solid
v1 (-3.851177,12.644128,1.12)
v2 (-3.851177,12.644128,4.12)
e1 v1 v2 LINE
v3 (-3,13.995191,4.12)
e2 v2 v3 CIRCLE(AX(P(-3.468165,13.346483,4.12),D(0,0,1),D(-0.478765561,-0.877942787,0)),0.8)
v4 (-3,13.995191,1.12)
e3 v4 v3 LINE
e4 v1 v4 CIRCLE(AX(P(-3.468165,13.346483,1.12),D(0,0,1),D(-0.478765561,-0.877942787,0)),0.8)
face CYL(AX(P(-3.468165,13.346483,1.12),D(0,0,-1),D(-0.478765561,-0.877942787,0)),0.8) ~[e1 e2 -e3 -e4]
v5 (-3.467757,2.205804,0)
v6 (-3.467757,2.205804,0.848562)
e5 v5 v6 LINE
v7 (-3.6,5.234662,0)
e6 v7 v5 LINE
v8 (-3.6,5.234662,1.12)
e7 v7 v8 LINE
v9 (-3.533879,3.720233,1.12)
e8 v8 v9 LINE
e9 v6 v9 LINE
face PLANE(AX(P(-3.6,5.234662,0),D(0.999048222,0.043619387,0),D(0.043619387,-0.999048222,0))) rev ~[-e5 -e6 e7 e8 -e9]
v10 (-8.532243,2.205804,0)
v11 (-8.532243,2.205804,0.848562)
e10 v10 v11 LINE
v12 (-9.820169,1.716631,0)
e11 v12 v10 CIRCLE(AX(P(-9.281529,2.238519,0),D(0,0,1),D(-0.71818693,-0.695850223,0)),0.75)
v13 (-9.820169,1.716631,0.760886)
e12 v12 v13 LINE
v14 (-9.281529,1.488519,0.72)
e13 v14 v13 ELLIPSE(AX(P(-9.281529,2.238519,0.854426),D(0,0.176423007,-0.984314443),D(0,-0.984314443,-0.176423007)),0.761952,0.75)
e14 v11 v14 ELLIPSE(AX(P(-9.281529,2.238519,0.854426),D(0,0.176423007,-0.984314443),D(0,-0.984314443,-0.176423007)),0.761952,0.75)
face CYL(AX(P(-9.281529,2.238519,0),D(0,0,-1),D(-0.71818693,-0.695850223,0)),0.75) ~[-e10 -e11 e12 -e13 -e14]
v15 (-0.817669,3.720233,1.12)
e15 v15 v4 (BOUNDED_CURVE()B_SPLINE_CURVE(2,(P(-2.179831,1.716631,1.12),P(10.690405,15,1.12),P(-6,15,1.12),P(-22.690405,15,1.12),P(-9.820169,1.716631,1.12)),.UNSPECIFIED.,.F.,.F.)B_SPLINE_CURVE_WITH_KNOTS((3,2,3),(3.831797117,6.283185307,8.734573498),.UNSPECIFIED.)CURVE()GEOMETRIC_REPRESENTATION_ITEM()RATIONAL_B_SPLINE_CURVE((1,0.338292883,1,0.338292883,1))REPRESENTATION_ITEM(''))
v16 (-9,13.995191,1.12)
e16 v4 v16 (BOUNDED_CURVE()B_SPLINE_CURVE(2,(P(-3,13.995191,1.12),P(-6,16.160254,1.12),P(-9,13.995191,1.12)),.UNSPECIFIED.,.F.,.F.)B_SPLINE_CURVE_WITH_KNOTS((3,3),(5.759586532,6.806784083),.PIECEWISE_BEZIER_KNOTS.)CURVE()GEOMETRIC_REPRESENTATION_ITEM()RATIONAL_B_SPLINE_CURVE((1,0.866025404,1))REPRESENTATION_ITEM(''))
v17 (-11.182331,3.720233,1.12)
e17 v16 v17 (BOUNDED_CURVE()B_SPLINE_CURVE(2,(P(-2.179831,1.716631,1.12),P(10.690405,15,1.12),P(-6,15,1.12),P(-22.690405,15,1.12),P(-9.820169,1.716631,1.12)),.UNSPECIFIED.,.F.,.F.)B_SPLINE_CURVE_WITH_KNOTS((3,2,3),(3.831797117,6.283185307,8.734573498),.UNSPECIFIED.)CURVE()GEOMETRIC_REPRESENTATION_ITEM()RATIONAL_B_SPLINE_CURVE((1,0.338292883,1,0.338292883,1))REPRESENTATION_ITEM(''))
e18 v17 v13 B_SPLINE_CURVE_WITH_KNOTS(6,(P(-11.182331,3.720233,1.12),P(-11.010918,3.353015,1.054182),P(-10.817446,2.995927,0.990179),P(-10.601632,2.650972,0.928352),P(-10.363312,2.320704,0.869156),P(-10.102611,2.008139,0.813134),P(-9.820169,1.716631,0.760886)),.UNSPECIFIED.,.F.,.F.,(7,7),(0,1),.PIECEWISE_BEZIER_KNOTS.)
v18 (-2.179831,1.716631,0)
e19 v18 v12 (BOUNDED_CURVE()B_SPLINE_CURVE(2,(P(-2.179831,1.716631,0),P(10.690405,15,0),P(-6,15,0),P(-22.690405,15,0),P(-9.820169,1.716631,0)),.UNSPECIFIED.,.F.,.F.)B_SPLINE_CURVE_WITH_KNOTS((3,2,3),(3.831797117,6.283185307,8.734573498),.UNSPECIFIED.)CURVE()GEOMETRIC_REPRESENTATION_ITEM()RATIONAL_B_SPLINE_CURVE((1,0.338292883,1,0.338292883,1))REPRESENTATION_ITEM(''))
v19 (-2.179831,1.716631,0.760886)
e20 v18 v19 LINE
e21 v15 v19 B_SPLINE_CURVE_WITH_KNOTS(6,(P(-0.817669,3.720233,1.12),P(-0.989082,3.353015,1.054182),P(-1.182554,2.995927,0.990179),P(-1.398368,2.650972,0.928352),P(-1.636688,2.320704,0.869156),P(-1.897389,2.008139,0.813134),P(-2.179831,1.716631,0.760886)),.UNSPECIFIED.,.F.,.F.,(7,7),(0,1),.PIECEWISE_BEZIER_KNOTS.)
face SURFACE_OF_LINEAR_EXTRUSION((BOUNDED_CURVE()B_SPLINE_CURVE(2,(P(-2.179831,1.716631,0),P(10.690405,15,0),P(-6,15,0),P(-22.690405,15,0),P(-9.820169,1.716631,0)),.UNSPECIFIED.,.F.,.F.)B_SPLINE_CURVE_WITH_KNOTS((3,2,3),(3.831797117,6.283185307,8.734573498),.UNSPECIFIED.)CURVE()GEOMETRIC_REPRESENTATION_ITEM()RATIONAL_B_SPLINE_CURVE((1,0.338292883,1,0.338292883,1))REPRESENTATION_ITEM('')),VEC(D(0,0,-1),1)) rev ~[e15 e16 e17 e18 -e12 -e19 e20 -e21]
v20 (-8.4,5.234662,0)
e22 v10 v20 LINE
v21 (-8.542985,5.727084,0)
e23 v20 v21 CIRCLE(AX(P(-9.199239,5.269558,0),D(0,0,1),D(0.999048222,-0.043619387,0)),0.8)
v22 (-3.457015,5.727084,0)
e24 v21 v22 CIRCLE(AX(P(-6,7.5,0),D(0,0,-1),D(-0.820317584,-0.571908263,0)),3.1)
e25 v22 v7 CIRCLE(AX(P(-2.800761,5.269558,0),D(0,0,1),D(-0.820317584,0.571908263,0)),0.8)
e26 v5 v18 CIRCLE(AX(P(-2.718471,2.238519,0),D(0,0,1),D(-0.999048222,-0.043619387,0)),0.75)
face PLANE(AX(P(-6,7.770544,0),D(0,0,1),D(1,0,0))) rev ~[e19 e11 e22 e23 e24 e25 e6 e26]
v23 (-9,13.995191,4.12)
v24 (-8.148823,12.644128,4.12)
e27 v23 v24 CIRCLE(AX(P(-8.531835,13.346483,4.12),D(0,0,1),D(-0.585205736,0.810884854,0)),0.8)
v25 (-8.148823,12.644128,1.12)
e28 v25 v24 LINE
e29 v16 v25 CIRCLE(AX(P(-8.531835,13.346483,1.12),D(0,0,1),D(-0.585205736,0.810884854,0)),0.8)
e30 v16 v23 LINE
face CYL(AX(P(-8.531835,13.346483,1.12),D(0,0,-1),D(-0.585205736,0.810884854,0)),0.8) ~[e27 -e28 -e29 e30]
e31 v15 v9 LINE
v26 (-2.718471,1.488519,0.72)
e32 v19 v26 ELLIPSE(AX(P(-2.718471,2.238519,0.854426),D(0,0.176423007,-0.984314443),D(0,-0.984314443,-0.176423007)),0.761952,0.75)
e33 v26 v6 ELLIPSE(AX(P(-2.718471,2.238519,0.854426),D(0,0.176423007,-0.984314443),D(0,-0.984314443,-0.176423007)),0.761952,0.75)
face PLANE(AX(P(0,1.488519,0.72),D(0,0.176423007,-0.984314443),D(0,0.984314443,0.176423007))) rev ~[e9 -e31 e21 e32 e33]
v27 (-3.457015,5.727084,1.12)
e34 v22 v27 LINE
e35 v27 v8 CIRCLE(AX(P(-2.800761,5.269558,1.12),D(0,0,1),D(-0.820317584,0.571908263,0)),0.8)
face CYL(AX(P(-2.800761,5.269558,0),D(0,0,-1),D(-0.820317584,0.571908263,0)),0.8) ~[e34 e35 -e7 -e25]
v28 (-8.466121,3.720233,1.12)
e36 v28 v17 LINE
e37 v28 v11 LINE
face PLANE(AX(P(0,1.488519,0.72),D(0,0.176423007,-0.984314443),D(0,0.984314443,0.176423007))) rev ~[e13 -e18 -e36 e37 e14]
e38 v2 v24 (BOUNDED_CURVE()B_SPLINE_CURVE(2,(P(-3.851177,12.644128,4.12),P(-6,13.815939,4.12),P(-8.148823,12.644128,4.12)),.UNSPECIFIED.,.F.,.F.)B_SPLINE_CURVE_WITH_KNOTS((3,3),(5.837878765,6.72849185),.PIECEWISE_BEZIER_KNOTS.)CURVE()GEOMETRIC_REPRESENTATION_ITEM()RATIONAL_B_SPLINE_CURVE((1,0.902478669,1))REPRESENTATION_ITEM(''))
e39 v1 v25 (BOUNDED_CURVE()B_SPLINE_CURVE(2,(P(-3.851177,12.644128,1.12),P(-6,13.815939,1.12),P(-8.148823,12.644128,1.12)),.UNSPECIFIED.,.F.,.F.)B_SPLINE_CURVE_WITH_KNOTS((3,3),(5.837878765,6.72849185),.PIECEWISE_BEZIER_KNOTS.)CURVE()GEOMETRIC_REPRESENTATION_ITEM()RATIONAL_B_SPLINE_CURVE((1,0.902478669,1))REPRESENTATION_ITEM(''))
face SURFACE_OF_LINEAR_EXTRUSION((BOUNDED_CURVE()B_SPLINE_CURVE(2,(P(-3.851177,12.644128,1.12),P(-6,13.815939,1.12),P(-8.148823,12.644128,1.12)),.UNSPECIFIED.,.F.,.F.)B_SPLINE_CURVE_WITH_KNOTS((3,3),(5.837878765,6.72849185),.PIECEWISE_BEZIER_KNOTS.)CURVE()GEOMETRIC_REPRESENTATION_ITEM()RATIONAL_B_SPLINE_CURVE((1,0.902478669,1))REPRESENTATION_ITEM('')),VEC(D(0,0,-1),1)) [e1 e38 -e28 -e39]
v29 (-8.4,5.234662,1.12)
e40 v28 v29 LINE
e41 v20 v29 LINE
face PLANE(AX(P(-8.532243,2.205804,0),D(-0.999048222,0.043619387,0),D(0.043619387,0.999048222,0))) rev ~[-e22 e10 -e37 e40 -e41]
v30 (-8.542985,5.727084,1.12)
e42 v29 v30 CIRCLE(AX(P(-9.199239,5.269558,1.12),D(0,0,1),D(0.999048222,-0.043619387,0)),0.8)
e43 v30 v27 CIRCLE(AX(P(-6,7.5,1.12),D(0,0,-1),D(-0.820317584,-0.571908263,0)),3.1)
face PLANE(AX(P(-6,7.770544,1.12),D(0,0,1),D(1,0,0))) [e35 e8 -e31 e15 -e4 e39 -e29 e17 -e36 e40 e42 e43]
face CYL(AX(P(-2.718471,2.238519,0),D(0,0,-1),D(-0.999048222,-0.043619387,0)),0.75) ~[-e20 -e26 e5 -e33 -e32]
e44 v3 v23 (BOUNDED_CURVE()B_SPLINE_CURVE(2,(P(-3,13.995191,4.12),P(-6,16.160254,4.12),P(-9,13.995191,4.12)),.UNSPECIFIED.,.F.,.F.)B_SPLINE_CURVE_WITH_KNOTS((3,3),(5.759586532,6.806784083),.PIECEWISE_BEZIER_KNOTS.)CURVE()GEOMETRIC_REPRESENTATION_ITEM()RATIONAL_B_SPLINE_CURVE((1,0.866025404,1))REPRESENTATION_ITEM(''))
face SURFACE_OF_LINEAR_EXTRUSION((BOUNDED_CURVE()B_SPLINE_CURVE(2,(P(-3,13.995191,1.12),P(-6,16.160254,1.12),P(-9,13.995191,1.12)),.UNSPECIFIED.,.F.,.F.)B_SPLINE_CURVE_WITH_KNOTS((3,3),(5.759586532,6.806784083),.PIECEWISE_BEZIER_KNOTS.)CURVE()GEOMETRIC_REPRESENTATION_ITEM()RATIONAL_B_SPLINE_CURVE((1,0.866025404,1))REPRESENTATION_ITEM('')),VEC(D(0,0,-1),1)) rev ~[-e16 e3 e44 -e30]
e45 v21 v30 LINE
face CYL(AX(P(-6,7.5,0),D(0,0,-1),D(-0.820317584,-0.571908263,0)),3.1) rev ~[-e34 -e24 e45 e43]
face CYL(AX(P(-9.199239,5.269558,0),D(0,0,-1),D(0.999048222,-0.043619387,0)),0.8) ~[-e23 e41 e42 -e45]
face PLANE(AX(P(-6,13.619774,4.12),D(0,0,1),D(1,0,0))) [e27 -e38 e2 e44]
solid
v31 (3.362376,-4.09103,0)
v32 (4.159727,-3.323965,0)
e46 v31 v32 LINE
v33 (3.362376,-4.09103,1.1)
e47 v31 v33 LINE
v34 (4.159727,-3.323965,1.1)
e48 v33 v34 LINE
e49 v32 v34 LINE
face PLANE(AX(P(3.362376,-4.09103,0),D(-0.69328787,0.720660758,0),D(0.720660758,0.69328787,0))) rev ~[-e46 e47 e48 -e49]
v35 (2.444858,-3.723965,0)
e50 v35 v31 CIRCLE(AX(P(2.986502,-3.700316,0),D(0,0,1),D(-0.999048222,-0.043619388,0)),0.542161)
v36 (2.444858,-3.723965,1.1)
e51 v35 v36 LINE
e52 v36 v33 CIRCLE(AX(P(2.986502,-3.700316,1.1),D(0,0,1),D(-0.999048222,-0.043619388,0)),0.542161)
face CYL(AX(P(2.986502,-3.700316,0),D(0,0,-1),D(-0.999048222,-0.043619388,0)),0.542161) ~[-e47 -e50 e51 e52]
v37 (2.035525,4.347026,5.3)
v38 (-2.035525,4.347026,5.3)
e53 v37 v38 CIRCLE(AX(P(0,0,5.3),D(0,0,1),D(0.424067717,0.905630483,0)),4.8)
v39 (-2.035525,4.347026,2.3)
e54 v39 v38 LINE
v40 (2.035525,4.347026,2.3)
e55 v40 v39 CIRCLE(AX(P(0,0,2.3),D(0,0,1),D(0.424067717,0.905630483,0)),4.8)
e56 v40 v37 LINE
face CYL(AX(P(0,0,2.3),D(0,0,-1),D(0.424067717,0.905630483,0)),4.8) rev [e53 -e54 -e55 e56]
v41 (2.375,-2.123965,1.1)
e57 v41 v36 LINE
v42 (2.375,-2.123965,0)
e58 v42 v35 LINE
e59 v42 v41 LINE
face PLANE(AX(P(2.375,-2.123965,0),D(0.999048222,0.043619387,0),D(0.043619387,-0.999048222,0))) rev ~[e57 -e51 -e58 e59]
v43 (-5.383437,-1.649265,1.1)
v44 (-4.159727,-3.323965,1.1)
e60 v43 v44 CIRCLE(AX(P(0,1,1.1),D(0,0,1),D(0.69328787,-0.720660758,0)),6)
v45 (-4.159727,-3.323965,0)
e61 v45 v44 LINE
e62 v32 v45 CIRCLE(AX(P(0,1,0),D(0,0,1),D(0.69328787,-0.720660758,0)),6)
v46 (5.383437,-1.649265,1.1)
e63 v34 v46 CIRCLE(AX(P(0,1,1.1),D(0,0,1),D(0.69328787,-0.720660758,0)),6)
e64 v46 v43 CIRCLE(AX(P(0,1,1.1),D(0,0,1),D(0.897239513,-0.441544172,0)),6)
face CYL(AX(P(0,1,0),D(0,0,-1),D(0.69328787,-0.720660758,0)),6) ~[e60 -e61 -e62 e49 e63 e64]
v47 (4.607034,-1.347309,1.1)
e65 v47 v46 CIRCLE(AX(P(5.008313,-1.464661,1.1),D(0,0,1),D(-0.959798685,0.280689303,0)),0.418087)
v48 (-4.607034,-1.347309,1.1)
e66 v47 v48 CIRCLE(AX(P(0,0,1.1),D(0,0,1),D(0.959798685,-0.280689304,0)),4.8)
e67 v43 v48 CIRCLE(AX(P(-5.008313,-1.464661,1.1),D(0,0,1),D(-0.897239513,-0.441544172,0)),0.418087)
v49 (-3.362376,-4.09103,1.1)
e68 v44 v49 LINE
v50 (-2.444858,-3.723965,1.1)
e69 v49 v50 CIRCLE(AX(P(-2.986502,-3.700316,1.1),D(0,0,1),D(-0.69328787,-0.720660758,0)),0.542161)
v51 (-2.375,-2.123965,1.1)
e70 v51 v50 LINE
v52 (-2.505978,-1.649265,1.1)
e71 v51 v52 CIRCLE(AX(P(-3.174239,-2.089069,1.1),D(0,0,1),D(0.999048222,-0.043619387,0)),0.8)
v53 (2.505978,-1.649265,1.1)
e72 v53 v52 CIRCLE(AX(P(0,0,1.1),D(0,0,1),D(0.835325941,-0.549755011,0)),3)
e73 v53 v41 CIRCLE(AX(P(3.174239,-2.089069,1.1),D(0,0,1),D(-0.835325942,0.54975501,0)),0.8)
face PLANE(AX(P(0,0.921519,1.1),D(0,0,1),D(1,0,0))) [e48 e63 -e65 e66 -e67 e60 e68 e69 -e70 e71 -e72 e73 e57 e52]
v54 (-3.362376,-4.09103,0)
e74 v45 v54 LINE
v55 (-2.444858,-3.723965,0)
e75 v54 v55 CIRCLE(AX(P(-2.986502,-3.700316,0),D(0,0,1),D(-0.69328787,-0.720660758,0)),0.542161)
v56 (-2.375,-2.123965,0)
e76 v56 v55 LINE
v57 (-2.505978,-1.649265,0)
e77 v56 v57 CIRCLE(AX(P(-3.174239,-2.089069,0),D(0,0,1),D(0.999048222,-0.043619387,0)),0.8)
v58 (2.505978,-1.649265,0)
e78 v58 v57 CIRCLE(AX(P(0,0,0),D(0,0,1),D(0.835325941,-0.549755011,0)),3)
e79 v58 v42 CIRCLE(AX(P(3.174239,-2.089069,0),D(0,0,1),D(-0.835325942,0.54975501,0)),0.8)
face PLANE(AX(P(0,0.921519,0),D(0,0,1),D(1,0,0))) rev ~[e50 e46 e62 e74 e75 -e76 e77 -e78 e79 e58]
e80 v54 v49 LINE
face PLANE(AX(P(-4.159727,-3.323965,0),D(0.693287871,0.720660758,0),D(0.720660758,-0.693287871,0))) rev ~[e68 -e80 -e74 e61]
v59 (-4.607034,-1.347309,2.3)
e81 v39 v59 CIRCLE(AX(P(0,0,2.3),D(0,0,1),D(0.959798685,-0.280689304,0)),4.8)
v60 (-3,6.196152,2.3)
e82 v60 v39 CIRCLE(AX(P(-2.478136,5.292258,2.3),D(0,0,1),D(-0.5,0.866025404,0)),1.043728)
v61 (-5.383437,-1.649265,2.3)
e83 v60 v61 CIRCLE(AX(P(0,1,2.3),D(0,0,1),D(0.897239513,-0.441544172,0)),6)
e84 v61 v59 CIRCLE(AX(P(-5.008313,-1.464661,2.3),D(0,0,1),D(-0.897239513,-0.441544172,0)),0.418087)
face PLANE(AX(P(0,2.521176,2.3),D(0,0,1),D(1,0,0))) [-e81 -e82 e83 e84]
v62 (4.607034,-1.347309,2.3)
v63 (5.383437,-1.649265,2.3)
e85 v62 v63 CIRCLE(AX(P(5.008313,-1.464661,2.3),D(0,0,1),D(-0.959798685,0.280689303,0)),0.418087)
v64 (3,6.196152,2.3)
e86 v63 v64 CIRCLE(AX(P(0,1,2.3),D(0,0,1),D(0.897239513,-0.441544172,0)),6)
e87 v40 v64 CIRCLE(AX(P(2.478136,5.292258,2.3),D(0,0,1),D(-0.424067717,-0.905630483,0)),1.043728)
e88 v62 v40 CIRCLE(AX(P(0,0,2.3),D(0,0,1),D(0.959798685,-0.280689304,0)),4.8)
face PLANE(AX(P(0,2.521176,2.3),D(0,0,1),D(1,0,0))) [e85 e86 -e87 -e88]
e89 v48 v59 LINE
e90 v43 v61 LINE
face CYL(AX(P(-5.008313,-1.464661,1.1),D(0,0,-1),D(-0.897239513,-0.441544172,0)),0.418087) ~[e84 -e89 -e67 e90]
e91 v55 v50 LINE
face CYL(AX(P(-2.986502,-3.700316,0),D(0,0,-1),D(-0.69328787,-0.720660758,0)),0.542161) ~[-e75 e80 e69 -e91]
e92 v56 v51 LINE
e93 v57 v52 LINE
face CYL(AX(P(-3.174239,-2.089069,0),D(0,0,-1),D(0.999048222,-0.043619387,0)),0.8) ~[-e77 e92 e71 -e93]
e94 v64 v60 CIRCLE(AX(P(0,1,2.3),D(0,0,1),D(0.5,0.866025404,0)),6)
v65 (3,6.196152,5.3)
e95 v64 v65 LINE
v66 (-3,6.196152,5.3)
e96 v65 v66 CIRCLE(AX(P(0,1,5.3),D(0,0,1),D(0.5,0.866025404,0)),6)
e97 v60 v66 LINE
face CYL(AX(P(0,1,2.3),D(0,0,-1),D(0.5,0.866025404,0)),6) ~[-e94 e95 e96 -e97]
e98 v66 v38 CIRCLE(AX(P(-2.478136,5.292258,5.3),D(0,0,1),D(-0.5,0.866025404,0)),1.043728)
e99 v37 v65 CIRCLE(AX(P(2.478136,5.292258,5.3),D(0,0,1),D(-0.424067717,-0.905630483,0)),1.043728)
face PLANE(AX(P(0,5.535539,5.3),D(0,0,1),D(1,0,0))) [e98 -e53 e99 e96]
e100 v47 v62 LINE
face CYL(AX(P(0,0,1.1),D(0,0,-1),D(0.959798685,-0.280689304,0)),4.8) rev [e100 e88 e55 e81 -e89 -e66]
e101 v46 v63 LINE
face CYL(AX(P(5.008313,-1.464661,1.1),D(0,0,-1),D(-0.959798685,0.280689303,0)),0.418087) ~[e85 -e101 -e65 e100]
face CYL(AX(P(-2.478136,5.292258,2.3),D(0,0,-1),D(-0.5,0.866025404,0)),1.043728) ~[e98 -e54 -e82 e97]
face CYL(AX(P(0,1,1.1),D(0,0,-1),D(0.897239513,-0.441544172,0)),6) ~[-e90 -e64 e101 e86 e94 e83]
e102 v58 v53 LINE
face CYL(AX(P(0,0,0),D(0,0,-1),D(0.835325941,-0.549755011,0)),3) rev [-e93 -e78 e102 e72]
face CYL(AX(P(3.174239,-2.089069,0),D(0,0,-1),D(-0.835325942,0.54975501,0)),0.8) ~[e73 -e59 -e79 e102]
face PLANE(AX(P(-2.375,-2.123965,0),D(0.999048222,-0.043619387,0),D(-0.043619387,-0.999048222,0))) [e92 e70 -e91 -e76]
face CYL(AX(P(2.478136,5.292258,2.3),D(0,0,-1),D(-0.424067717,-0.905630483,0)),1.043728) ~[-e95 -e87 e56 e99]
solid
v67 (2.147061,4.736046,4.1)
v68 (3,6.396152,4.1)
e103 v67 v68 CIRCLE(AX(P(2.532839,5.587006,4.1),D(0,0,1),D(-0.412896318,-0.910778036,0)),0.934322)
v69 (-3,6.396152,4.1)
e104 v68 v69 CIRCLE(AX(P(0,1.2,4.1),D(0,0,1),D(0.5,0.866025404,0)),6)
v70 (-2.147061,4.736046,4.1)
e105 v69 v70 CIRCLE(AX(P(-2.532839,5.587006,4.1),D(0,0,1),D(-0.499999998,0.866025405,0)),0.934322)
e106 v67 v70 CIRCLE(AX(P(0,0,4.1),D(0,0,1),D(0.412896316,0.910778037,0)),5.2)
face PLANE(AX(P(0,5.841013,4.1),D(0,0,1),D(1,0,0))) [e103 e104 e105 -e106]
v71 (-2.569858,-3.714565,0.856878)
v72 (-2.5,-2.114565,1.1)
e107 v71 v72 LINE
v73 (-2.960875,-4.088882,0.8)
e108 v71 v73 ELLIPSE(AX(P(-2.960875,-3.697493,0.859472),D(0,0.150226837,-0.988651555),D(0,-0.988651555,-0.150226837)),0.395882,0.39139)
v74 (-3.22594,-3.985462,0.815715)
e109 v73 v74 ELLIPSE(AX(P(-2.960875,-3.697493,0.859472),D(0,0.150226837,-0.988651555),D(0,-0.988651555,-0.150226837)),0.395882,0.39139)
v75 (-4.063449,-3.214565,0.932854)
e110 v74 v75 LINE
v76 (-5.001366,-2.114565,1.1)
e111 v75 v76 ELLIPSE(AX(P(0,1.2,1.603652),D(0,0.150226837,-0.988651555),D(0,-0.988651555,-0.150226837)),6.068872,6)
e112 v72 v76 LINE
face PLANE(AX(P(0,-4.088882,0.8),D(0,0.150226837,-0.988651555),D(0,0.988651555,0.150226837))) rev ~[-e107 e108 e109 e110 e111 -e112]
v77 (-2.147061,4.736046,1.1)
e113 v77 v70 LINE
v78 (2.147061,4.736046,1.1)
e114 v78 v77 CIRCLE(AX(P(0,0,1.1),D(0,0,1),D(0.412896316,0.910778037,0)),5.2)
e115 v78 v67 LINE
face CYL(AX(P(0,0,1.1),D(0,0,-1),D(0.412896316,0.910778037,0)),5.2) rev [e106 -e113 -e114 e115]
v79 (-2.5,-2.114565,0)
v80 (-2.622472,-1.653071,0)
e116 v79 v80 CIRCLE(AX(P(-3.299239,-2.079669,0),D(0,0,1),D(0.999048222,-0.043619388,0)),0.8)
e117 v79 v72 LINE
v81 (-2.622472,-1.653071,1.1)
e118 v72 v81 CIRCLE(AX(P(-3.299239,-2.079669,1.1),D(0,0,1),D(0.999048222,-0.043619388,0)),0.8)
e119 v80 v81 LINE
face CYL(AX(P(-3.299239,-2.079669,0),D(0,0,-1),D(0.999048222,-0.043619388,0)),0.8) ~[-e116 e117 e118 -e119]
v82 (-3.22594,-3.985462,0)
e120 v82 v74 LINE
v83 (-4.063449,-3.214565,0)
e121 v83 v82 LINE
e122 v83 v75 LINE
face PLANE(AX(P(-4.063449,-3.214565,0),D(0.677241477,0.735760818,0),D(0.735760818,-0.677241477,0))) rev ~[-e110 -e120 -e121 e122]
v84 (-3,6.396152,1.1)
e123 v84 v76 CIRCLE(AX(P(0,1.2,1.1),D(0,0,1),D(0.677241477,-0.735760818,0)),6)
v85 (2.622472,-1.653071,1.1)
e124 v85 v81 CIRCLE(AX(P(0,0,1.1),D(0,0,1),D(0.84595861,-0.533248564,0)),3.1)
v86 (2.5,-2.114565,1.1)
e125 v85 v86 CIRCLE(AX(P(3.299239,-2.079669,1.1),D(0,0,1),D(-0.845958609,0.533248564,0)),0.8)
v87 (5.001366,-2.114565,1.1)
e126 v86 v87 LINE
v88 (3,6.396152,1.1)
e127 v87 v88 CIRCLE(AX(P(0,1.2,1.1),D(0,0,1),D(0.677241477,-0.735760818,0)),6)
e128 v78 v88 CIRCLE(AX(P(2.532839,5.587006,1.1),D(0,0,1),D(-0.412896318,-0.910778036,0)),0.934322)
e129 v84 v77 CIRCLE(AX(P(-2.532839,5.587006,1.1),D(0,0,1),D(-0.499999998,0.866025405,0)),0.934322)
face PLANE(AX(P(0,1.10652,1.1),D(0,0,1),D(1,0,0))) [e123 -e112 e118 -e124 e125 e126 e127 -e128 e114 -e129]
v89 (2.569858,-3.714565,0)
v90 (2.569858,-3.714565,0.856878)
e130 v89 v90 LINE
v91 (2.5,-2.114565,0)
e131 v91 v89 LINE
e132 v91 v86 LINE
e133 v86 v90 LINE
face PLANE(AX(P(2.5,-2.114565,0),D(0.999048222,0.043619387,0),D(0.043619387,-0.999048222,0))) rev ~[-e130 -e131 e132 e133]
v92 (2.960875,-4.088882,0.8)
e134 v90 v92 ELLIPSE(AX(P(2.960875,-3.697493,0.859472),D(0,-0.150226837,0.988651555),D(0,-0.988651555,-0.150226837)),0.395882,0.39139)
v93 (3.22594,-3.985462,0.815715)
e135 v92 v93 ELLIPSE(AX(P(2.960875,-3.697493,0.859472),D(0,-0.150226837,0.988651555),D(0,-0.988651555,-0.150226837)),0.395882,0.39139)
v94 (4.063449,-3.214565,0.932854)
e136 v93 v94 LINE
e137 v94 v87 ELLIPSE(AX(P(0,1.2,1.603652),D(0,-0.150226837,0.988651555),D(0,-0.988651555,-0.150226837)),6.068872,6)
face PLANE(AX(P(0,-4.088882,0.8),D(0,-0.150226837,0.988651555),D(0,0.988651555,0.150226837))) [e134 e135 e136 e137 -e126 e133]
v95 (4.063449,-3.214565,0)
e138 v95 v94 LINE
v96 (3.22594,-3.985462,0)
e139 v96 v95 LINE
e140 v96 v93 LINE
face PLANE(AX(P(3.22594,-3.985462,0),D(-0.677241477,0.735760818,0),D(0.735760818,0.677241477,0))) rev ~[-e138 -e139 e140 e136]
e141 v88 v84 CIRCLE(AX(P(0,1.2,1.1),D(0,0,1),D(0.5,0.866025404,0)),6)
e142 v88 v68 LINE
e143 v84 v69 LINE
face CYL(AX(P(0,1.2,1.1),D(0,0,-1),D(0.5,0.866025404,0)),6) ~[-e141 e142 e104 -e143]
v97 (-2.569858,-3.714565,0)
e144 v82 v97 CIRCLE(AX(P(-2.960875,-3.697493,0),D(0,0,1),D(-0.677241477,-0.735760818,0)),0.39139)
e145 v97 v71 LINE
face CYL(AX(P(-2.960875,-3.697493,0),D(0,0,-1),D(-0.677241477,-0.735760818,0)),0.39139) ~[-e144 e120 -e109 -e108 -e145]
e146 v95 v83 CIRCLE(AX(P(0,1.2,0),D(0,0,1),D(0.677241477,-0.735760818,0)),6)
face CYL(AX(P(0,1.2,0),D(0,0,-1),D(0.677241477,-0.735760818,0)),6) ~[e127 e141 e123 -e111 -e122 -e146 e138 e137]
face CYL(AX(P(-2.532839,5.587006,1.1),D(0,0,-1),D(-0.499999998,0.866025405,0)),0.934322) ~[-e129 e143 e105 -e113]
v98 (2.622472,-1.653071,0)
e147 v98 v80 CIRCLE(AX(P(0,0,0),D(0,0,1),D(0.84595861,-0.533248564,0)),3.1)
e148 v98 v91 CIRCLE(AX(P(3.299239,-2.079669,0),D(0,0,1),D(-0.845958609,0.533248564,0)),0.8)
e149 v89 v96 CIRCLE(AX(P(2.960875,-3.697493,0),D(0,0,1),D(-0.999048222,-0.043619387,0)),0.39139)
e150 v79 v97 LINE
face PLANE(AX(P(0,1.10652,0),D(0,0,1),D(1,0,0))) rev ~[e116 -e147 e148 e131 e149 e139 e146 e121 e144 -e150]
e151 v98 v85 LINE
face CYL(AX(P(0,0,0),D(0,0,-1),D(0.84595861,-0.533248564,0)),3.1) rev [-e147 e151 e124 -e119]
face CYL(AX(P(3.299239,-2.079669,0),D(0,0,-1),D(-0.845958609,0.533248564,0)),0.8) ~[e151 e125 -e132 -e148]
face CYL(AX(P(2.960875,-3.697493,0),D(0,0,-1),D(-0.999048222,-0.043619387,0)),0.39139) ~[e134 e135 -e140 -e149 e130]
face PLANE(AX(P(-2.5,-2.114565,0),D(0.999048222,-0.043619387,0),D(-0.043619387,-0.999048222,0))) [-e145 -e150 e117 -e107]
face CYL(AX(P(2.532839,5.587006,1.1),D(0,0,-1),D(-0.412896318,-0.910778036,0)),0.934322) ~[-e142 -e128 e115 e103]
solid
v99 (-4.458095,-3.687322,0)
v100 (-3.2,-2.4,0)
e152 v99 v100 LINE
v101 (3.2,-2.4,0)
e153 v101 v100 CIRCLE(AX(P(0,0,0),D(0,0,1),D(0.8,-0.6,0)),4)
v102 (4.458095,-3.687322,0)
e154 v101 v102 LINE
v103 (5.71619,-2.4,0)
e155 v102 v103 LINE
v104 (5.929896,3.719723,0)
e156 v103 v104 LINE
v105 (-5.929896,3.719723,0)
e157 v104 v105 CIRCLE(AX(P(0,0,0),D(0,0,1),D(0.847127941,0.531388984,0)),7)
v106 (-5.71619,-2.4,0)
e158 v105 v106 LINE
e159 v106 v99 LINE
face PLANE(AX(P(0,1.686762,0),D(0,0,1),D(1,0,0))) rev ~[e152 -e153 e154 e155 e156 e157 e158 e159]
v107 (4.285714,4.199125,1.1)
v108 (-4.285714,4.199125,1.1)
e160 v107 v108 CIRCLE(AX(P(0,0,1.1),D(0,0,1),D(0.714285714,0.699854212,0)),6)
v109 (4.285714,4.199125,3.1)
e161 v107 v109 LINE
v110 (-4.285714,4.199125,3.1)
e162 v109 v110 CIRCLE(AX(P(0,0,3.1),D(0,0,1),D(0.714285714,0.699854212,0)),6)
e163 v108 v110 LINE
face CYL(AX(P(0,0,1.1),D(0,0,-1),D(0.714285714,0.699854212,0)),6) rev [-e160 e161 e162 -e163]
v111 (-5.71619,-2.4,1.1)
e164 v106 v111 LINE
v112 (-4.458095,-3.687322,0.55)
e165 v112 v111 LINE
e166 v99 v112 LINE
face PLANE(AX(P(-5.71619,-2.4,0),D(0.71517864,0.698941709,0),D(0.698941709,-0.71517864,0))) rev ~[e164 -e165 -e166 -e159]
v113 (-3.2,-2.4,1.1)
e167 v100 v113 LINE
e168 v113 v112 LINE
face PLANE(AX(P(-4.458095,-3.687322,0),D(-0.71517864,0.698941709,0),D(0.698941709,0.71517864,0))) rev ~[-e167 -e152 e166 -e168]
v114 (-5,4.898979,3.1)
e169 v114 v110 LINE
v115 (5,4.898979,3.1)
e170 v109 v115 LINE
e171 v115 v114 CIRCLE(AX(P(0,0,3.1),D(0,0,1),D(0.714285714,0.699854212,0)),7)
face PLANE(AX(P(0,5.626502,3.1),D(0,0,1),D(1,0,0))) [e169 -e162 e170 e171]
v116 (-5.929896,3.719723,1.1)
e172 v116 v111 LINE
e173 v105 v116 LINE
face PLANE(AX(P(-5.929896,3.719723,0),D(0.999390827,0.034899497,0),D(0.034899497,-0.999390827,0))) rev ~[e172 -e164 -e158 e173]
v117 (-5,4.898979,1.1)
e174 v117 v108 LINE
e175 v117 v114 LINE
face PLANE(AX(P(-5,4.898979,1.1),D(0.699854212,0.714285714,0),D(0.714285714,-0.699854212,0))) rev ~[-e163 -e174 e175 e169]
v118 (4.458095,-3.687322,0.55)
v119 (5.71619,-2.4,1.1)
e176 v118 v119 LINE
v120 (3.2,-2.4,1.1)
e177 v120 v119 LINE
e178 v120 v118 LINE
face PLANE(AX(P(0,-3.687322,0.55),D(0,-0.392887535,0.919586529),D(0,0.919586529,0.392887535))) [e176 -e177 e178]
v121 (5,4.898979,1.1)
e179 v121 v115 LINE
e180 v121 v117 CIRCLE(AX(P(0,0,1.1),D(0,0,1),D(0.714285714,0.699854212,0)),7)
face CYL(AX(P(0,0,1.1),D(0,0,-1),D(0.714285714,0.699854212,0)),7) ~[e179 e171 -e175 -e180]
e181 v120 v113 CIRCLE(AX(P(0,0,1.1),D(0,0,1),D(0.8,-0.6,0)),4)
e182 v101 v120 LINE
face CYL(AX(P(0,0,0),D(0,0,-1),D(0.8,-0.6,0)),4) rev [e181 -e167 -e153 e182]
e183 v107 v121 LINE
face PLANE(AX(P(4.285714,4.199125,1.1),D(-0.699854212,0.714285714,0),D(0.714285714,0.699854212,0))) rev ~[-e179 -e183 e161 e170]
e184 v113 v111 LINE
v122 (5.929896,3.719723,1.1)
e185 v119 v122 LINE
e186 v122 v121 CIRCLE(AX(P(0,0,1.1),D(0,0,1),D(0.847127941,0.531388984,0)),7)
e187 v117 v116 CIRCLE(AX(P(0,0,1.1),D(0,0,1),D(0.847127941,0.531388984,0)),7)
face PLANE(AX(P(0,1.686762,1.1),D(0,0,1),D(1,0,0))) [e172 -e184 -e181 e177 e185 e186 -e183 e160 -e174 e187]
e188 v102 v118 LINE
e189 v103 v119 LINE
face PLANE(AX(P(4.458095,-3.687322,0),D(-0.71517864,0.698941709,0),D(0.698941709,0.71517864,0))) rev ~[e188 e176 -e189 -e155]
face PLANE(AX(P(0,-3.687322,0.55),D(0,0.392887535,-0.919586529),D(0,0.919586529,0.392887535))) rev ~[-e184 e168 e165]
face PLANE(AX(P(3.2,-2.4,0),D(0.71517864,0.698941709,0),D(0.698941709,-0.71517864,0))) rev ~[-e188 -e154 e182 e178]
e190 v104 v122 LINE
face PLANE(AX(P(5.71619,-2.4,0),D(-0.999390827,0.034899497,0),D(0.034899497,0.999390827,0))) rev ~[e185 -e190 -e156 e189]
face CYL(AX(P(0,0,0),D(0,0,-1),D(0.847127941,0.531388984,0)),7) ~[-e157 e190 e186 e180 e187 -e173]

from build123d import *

# Parameters (mm, degrees)
PAD_DEPTH            = 1.1
PAD001_DEPTH         = 1.2
PAD002_DEPTH         = 3
PAD003_DEPTH         = 1.1
PAD004_DEPTH         = 3
POCKET_DEPTH         = 6.001
POCKET_DEPTH_BACK    = 6.001
PAD005_DEPTH         = 1.12
PAD006_DEPTH         = 3
POCKET001_DEPTH      = 12.001
POCKET001_DEPTH_BACK = 0.001
PAD007_DEPTH         = 1.1
PAD008_DEPTH         = 2
POCKET002_DEPTH      = 5.9308955855
POCKET002_DEPTH_BACK = 5.9308955855


with BuildPart() as body:
    # Sketch001 → Pad (new body)
    with BuildSketch(Plane.XY):
        with BuildLine():
            ThreePointArc((-3.3623760191, -4.0910299298), (-2.7851214881, -4.2036886405), (-2.4448575087, -3.7239645501))
            Line((-2.375, -2.1239645501), (-2.4448575087, -3.7239645501))
            ThreePointArc((-2.375, -2.1239645501), (-2.4030554088, -1.8762862386), (-2.5059778242, -1.6492650317))
            ThreePointArc((2.5059778241, -1.6492650317), (0, 3), (-2.5059778242, -1.6492650317))
            ThreePointArc((2.5059778241, -1.6492650317), (2.4030554088, -1.8762862386), (2.375, -2.1239645501))
            Line((2.375, -2.1239645501), (2.4448575087, -3.7239645501))
            ThreePointArc((2.4448575087, -3.7239645501), (2.7851214881, -4.2036886404), (3.362376019, -4.0910299297))
            Line((3.362376019, -4.0910299297), (4.159727223, -3.3239645501))
            ThreePointArc((4.159727223, -3.3239645501), (0, 7), (-4.159727223, -3.3239645501))
            Line((-4.159727223, -3.3239645501), (-3.3623760191, -4.0910299298))
        make_face()
    extrude(amount=PAD_DEPTH)

    # Sketch002 → Pad001 (join)
    with BuildSketch(Plane.XY.offset(1.1)):
        with BuildLine():
            ThreePointArc((5.3834370798, -1.6492650317), (0, 7), (-5.3834370798, -1.6492650317))
            ThreePointArc((-5.3834370797, -1.6492650317), (-4.8567694559, -1.8543164722), (-4.6070336858, -1.3473086572))
            ThreePointArc((4.6070336858, -1.3473086572), (0, 4.8), (-4.6070336858, -1.3473086572))
            ThreePointArc((4.6070336858, -1.3473086572), (4.8567694559, -1.8543164722), (5.3834370797, -1.6492650317))
        make_face()
    extrude(amount=PAD001_DEPTH)

    # Sketch003 → Pad002 (join)
    with BuildSketch(Plane.XY.offset(2.3)):
        with BuildLine():
            ThreePointArc((-3, 6.1961524227), (-3.4035480565, 4.8095776308), (-2.0355250412, 4.3470263177))
            ThreePointArc((2.0355250412, 4.3470263177), (0, 4.8), (-2.0355250412, 4.3470263177))
            ThreePointArc((2.0355250412, 4.3470263177), (3.4035480565, 4.8095776308), (3, 6.1961524227))
            ThreePointArc((3, 6.1961524227), (0, 7), (-3, 6.1961524227))
        make_face()
    extrude(amount=PAD002_DEPTH)


with BuildPart() as body001:
    # Sketch005 → Pad003 (new body)
    with BuildSketch(Plane.XY):
        with BuildLine():
            ThreePointArc((-3.2259399201, -3.9854618904), (-2.8115017402, -4.0592572787), (-2.5698575087, -3.7145649092))
            Line((-2.5, -2.1145649092), (-2.5698575087, -3.7145649092))
            ThreePointArc((-2.5, -2.1145649092), (-2.526003623, -1.8744677776), (-2.6224716896, -1.6530705482))
            ThreePointArc((2.6224716896, -1.6530705482), (0, 3.1), (-2.6224716896, -1.6530705482))
            ThreePointArc((2.6224716896, -1.6530705482), (2.526003623, -1.8744677776), (2.5, -2.1145649092))
            Line((2.5, -2.1145649092), (2.5698575086, -3.7145649092))
            ThreePointArc((2.5698575086, -3.7145649092), (2.8115017402, -4.0592572787), (3.2259399201, -3.9854618904))
            Line((3.2259399201, -3.9854618904), (4.063448863, -3.2145649092))
            ThreePointArc((4.063448863, -3.2145649092), (0, 7.2), (-4.063448863, -3.2145649092))
            Line((-4.063448863, -3.2145649092), (-3.2259399201, -3.9854618904))
        make_face()
    extrude(amount=PAD003_DEPTH)

    # Sketch006 → Pad004 (join)
    with BuildSketch(Plane.XY.offset(1.1)):
        with BuildLine():
            ThreePointArc((-3, 6.3961524227), (-3.3638890962, 5.1600240702), (-2.1470608433, 4.736045791))
            ThreePointArc((2.1470608433, 4.7360457911), (0, 5.2), (-2.1470608433, 4.7360457911))
            ThreePointArc((2.1470608433, 4.736045791), (3.3638890962, 5.1600240702), (3, 6.3961524227))
            ThreePointArc((3, 6.3961524227), (0, 7.2), (-3, 6.3961524227))
        make_face()
    extrude(amount=PAD004_DEPTH)

    # Sketch007 → Pocket (cut, two sides)
    with BuildSketch(Plane.YZ) as pocket_sk:
        Polygon((-2.1145649092, 1.1), (-4.088882367, 1.1), (-4.088882367, 0.8), align=None)
    extrude(amount=-POCKET_DEPTH, mode=Mode.SUBTRACT)
    extrude(pocket_sk.sketch, amount=POCKET_DEPTH_BACK, mode=Mode.SUBTRACT)


with BuildPart() as body002:
    # Sketch009 → Pad005 (new body)
    with BuildSketch(Plane.XY):
        with BuildLine():
            ThreePointArc((-3.4570154899, 5.7270843841), (-3.5690286911, 5.4926393827), (-3.6, 5.2346622636))
            Line((-3.6, 5.2346622636), (-3.4677572031, 2.2058042473))
            ThreePointArc((-3.4677572031, 2.2058042473), (-2.984770714, 1.5373879284), (-2.1798308391, 1.7166311204))
            add(Edge.make_bspline(
                [(-2.1798308391, 1.7166311204), (10.6904050416, 15), (-6, 15), (-22.6904050416, 15), (-9.8201691609, 1.7166311204)],
                knots=[3.8317971165, 3.8317971165, 3.8317971165, 6.2831853072, 6.2831853072, 8.7345734978, 8.7345734978, 8.7345734978], degree=2, weights=[1, 0.338292883, 1, 0.338292883, 1]))
            ThreePointArc((-9.8201691609, 1.7166311204), (-9.015229286, 1.5373879284), (-8.5322427969, 2.2058042473))
            Line((-8.5322427969, 2.2058042473), (-8.4, 5.2346622636))
            ThreePointArc((-8.4, 5.2346622636), (-8.4309713089, 5.4926393827), (-8.5429845101, 5.7270843841))
            ThreePointArc((-8.5429845101, 5.7270843841), (-6, 10.6), (-3.4570154899, 5.7270843841))
        make_face()
    extrude(amount=PAD005_DEPTH)

    # Sketch010 → Pad006 (join)
    with BuildSketch(Plane.XY.offset(1.12)):
        with BuildLine():
            ThreePointArc((-3.8511770379, 12.6441284155), (-2.7912931609, 12.9200496843), (-3, 13.9951905284))
            add(Edge.make_bspline(
                [(-3, 13.9951905284), (-6, 16.1602540378), (-9, 13.9951905284)],
                knots=[5.7595865316, 5.7595865316, 5.7595865316, 6.8067840828, 6.8067840828, 6.8067840828], degree=2, weights=[1, 0.8660254038, 1]))
            ThreePointArc((-9, 13.9951905284), (-9.2087068391, 12.9200496843), (-8.1488229621, 12.6441284155))
            add(Edge.make_bspline(
                [(-3.8511770379, 12.6441284155), (-6, 13.815938751), (-8.1488229621, 12.6441284155)],
                knots=[5.8378787648, 5.8378787648, 5.8378787648, 6.7284918496, 6.7284918496, 6.7284918496], degree=2, weights=[1, 0.9024786694, 1]))
        make_face()
    extrude(amount=PAD006_DEPTH)

    # Sketch011 → Pocket001 (cut, two sides)
    with BuildSketch(Plane.YZ) as pocket001_sk:
        Polygon((3.7202332554, 1.12), (1.4885187878, 1.12), (1.4885187878, 0.72), align=None)
    extrude(amount=-POCKET001_DEPTH, mode=Mode.SUBTRACT)
    extrude(pocket001_sk.sketch, amount=POCKET001_DEPTH_BACK, mode=Mode.SUBTRACT)


with BuildPart() as body003:
    # Sketch013 → Pad007 (new body)
    with BuildSketch(Plane.XY):
        with BuildLine():
            ThreePointArc((5.9298955855, 3.7197228856), (0, 7.0000000001), (-5.9298955855, 3.7197228856))
            Line((-5.9298955855, 3.7197228856), (-5.7161901532, -2.4))
            Line((-5.7161901532, -2.4), (-4.4580950766, -3.687321552))
            Line((-4.4580950766, -3.687321552), (-3.2, -2.4))
            ThreePointArc((3.2, -2.4), (0, 4.0000000001), (-3.2, -2.4))
            Line((3.2, -2.4), (4.4580950766, -3.687321552))
            Line((4.4580950766, -3.687321552), (5.7161901533, -2.4))
            Line((5.7161901533, -2.4), (5.9298955855, 3.7197228856))
        make_face()
    extrude(amount=PAD007_DEPTH)

    # Sketch014 → Pad008 (join)
    with BuildSketch(Plane.XY.offset(1.1)):
        with BuildLine():
            ThreePointArc((5, 4.8989794856), (0, 7), (-5, 4.8989794856))
            Line((-5, 4.8989794856), (-4.2857142857, 4.1991252733))
            ThreePointArc((4.2857142857, 4.1991252733), (0, 6), (-4.2857142857, 4.1991252733))
            Line((4.2857142857, 4.1991252733), (5, 4.8989794856))
        make_face()
    extrude(amount=PAD008_DEPTH)

    # Sketch015 → Pocket002 (cut, two sides)
    with BuildSketch(Plane.YZ) as pocket002_sk:
        Polygon((-2.4, 1.1), (-3.687321552, 1.1), (-3.687321552, 0.55), align=None)
    extrude(amount=-POCKET002_DEPTH, mode=Mode.SUBTRACT)
    extrude(pocket002_sk.sketch, amount=POCKET002_DEPTH_BACK, mode=Mode.SUBTRACT)


solid = Compound([body.part, body001.part, body002.part, body003.part])
